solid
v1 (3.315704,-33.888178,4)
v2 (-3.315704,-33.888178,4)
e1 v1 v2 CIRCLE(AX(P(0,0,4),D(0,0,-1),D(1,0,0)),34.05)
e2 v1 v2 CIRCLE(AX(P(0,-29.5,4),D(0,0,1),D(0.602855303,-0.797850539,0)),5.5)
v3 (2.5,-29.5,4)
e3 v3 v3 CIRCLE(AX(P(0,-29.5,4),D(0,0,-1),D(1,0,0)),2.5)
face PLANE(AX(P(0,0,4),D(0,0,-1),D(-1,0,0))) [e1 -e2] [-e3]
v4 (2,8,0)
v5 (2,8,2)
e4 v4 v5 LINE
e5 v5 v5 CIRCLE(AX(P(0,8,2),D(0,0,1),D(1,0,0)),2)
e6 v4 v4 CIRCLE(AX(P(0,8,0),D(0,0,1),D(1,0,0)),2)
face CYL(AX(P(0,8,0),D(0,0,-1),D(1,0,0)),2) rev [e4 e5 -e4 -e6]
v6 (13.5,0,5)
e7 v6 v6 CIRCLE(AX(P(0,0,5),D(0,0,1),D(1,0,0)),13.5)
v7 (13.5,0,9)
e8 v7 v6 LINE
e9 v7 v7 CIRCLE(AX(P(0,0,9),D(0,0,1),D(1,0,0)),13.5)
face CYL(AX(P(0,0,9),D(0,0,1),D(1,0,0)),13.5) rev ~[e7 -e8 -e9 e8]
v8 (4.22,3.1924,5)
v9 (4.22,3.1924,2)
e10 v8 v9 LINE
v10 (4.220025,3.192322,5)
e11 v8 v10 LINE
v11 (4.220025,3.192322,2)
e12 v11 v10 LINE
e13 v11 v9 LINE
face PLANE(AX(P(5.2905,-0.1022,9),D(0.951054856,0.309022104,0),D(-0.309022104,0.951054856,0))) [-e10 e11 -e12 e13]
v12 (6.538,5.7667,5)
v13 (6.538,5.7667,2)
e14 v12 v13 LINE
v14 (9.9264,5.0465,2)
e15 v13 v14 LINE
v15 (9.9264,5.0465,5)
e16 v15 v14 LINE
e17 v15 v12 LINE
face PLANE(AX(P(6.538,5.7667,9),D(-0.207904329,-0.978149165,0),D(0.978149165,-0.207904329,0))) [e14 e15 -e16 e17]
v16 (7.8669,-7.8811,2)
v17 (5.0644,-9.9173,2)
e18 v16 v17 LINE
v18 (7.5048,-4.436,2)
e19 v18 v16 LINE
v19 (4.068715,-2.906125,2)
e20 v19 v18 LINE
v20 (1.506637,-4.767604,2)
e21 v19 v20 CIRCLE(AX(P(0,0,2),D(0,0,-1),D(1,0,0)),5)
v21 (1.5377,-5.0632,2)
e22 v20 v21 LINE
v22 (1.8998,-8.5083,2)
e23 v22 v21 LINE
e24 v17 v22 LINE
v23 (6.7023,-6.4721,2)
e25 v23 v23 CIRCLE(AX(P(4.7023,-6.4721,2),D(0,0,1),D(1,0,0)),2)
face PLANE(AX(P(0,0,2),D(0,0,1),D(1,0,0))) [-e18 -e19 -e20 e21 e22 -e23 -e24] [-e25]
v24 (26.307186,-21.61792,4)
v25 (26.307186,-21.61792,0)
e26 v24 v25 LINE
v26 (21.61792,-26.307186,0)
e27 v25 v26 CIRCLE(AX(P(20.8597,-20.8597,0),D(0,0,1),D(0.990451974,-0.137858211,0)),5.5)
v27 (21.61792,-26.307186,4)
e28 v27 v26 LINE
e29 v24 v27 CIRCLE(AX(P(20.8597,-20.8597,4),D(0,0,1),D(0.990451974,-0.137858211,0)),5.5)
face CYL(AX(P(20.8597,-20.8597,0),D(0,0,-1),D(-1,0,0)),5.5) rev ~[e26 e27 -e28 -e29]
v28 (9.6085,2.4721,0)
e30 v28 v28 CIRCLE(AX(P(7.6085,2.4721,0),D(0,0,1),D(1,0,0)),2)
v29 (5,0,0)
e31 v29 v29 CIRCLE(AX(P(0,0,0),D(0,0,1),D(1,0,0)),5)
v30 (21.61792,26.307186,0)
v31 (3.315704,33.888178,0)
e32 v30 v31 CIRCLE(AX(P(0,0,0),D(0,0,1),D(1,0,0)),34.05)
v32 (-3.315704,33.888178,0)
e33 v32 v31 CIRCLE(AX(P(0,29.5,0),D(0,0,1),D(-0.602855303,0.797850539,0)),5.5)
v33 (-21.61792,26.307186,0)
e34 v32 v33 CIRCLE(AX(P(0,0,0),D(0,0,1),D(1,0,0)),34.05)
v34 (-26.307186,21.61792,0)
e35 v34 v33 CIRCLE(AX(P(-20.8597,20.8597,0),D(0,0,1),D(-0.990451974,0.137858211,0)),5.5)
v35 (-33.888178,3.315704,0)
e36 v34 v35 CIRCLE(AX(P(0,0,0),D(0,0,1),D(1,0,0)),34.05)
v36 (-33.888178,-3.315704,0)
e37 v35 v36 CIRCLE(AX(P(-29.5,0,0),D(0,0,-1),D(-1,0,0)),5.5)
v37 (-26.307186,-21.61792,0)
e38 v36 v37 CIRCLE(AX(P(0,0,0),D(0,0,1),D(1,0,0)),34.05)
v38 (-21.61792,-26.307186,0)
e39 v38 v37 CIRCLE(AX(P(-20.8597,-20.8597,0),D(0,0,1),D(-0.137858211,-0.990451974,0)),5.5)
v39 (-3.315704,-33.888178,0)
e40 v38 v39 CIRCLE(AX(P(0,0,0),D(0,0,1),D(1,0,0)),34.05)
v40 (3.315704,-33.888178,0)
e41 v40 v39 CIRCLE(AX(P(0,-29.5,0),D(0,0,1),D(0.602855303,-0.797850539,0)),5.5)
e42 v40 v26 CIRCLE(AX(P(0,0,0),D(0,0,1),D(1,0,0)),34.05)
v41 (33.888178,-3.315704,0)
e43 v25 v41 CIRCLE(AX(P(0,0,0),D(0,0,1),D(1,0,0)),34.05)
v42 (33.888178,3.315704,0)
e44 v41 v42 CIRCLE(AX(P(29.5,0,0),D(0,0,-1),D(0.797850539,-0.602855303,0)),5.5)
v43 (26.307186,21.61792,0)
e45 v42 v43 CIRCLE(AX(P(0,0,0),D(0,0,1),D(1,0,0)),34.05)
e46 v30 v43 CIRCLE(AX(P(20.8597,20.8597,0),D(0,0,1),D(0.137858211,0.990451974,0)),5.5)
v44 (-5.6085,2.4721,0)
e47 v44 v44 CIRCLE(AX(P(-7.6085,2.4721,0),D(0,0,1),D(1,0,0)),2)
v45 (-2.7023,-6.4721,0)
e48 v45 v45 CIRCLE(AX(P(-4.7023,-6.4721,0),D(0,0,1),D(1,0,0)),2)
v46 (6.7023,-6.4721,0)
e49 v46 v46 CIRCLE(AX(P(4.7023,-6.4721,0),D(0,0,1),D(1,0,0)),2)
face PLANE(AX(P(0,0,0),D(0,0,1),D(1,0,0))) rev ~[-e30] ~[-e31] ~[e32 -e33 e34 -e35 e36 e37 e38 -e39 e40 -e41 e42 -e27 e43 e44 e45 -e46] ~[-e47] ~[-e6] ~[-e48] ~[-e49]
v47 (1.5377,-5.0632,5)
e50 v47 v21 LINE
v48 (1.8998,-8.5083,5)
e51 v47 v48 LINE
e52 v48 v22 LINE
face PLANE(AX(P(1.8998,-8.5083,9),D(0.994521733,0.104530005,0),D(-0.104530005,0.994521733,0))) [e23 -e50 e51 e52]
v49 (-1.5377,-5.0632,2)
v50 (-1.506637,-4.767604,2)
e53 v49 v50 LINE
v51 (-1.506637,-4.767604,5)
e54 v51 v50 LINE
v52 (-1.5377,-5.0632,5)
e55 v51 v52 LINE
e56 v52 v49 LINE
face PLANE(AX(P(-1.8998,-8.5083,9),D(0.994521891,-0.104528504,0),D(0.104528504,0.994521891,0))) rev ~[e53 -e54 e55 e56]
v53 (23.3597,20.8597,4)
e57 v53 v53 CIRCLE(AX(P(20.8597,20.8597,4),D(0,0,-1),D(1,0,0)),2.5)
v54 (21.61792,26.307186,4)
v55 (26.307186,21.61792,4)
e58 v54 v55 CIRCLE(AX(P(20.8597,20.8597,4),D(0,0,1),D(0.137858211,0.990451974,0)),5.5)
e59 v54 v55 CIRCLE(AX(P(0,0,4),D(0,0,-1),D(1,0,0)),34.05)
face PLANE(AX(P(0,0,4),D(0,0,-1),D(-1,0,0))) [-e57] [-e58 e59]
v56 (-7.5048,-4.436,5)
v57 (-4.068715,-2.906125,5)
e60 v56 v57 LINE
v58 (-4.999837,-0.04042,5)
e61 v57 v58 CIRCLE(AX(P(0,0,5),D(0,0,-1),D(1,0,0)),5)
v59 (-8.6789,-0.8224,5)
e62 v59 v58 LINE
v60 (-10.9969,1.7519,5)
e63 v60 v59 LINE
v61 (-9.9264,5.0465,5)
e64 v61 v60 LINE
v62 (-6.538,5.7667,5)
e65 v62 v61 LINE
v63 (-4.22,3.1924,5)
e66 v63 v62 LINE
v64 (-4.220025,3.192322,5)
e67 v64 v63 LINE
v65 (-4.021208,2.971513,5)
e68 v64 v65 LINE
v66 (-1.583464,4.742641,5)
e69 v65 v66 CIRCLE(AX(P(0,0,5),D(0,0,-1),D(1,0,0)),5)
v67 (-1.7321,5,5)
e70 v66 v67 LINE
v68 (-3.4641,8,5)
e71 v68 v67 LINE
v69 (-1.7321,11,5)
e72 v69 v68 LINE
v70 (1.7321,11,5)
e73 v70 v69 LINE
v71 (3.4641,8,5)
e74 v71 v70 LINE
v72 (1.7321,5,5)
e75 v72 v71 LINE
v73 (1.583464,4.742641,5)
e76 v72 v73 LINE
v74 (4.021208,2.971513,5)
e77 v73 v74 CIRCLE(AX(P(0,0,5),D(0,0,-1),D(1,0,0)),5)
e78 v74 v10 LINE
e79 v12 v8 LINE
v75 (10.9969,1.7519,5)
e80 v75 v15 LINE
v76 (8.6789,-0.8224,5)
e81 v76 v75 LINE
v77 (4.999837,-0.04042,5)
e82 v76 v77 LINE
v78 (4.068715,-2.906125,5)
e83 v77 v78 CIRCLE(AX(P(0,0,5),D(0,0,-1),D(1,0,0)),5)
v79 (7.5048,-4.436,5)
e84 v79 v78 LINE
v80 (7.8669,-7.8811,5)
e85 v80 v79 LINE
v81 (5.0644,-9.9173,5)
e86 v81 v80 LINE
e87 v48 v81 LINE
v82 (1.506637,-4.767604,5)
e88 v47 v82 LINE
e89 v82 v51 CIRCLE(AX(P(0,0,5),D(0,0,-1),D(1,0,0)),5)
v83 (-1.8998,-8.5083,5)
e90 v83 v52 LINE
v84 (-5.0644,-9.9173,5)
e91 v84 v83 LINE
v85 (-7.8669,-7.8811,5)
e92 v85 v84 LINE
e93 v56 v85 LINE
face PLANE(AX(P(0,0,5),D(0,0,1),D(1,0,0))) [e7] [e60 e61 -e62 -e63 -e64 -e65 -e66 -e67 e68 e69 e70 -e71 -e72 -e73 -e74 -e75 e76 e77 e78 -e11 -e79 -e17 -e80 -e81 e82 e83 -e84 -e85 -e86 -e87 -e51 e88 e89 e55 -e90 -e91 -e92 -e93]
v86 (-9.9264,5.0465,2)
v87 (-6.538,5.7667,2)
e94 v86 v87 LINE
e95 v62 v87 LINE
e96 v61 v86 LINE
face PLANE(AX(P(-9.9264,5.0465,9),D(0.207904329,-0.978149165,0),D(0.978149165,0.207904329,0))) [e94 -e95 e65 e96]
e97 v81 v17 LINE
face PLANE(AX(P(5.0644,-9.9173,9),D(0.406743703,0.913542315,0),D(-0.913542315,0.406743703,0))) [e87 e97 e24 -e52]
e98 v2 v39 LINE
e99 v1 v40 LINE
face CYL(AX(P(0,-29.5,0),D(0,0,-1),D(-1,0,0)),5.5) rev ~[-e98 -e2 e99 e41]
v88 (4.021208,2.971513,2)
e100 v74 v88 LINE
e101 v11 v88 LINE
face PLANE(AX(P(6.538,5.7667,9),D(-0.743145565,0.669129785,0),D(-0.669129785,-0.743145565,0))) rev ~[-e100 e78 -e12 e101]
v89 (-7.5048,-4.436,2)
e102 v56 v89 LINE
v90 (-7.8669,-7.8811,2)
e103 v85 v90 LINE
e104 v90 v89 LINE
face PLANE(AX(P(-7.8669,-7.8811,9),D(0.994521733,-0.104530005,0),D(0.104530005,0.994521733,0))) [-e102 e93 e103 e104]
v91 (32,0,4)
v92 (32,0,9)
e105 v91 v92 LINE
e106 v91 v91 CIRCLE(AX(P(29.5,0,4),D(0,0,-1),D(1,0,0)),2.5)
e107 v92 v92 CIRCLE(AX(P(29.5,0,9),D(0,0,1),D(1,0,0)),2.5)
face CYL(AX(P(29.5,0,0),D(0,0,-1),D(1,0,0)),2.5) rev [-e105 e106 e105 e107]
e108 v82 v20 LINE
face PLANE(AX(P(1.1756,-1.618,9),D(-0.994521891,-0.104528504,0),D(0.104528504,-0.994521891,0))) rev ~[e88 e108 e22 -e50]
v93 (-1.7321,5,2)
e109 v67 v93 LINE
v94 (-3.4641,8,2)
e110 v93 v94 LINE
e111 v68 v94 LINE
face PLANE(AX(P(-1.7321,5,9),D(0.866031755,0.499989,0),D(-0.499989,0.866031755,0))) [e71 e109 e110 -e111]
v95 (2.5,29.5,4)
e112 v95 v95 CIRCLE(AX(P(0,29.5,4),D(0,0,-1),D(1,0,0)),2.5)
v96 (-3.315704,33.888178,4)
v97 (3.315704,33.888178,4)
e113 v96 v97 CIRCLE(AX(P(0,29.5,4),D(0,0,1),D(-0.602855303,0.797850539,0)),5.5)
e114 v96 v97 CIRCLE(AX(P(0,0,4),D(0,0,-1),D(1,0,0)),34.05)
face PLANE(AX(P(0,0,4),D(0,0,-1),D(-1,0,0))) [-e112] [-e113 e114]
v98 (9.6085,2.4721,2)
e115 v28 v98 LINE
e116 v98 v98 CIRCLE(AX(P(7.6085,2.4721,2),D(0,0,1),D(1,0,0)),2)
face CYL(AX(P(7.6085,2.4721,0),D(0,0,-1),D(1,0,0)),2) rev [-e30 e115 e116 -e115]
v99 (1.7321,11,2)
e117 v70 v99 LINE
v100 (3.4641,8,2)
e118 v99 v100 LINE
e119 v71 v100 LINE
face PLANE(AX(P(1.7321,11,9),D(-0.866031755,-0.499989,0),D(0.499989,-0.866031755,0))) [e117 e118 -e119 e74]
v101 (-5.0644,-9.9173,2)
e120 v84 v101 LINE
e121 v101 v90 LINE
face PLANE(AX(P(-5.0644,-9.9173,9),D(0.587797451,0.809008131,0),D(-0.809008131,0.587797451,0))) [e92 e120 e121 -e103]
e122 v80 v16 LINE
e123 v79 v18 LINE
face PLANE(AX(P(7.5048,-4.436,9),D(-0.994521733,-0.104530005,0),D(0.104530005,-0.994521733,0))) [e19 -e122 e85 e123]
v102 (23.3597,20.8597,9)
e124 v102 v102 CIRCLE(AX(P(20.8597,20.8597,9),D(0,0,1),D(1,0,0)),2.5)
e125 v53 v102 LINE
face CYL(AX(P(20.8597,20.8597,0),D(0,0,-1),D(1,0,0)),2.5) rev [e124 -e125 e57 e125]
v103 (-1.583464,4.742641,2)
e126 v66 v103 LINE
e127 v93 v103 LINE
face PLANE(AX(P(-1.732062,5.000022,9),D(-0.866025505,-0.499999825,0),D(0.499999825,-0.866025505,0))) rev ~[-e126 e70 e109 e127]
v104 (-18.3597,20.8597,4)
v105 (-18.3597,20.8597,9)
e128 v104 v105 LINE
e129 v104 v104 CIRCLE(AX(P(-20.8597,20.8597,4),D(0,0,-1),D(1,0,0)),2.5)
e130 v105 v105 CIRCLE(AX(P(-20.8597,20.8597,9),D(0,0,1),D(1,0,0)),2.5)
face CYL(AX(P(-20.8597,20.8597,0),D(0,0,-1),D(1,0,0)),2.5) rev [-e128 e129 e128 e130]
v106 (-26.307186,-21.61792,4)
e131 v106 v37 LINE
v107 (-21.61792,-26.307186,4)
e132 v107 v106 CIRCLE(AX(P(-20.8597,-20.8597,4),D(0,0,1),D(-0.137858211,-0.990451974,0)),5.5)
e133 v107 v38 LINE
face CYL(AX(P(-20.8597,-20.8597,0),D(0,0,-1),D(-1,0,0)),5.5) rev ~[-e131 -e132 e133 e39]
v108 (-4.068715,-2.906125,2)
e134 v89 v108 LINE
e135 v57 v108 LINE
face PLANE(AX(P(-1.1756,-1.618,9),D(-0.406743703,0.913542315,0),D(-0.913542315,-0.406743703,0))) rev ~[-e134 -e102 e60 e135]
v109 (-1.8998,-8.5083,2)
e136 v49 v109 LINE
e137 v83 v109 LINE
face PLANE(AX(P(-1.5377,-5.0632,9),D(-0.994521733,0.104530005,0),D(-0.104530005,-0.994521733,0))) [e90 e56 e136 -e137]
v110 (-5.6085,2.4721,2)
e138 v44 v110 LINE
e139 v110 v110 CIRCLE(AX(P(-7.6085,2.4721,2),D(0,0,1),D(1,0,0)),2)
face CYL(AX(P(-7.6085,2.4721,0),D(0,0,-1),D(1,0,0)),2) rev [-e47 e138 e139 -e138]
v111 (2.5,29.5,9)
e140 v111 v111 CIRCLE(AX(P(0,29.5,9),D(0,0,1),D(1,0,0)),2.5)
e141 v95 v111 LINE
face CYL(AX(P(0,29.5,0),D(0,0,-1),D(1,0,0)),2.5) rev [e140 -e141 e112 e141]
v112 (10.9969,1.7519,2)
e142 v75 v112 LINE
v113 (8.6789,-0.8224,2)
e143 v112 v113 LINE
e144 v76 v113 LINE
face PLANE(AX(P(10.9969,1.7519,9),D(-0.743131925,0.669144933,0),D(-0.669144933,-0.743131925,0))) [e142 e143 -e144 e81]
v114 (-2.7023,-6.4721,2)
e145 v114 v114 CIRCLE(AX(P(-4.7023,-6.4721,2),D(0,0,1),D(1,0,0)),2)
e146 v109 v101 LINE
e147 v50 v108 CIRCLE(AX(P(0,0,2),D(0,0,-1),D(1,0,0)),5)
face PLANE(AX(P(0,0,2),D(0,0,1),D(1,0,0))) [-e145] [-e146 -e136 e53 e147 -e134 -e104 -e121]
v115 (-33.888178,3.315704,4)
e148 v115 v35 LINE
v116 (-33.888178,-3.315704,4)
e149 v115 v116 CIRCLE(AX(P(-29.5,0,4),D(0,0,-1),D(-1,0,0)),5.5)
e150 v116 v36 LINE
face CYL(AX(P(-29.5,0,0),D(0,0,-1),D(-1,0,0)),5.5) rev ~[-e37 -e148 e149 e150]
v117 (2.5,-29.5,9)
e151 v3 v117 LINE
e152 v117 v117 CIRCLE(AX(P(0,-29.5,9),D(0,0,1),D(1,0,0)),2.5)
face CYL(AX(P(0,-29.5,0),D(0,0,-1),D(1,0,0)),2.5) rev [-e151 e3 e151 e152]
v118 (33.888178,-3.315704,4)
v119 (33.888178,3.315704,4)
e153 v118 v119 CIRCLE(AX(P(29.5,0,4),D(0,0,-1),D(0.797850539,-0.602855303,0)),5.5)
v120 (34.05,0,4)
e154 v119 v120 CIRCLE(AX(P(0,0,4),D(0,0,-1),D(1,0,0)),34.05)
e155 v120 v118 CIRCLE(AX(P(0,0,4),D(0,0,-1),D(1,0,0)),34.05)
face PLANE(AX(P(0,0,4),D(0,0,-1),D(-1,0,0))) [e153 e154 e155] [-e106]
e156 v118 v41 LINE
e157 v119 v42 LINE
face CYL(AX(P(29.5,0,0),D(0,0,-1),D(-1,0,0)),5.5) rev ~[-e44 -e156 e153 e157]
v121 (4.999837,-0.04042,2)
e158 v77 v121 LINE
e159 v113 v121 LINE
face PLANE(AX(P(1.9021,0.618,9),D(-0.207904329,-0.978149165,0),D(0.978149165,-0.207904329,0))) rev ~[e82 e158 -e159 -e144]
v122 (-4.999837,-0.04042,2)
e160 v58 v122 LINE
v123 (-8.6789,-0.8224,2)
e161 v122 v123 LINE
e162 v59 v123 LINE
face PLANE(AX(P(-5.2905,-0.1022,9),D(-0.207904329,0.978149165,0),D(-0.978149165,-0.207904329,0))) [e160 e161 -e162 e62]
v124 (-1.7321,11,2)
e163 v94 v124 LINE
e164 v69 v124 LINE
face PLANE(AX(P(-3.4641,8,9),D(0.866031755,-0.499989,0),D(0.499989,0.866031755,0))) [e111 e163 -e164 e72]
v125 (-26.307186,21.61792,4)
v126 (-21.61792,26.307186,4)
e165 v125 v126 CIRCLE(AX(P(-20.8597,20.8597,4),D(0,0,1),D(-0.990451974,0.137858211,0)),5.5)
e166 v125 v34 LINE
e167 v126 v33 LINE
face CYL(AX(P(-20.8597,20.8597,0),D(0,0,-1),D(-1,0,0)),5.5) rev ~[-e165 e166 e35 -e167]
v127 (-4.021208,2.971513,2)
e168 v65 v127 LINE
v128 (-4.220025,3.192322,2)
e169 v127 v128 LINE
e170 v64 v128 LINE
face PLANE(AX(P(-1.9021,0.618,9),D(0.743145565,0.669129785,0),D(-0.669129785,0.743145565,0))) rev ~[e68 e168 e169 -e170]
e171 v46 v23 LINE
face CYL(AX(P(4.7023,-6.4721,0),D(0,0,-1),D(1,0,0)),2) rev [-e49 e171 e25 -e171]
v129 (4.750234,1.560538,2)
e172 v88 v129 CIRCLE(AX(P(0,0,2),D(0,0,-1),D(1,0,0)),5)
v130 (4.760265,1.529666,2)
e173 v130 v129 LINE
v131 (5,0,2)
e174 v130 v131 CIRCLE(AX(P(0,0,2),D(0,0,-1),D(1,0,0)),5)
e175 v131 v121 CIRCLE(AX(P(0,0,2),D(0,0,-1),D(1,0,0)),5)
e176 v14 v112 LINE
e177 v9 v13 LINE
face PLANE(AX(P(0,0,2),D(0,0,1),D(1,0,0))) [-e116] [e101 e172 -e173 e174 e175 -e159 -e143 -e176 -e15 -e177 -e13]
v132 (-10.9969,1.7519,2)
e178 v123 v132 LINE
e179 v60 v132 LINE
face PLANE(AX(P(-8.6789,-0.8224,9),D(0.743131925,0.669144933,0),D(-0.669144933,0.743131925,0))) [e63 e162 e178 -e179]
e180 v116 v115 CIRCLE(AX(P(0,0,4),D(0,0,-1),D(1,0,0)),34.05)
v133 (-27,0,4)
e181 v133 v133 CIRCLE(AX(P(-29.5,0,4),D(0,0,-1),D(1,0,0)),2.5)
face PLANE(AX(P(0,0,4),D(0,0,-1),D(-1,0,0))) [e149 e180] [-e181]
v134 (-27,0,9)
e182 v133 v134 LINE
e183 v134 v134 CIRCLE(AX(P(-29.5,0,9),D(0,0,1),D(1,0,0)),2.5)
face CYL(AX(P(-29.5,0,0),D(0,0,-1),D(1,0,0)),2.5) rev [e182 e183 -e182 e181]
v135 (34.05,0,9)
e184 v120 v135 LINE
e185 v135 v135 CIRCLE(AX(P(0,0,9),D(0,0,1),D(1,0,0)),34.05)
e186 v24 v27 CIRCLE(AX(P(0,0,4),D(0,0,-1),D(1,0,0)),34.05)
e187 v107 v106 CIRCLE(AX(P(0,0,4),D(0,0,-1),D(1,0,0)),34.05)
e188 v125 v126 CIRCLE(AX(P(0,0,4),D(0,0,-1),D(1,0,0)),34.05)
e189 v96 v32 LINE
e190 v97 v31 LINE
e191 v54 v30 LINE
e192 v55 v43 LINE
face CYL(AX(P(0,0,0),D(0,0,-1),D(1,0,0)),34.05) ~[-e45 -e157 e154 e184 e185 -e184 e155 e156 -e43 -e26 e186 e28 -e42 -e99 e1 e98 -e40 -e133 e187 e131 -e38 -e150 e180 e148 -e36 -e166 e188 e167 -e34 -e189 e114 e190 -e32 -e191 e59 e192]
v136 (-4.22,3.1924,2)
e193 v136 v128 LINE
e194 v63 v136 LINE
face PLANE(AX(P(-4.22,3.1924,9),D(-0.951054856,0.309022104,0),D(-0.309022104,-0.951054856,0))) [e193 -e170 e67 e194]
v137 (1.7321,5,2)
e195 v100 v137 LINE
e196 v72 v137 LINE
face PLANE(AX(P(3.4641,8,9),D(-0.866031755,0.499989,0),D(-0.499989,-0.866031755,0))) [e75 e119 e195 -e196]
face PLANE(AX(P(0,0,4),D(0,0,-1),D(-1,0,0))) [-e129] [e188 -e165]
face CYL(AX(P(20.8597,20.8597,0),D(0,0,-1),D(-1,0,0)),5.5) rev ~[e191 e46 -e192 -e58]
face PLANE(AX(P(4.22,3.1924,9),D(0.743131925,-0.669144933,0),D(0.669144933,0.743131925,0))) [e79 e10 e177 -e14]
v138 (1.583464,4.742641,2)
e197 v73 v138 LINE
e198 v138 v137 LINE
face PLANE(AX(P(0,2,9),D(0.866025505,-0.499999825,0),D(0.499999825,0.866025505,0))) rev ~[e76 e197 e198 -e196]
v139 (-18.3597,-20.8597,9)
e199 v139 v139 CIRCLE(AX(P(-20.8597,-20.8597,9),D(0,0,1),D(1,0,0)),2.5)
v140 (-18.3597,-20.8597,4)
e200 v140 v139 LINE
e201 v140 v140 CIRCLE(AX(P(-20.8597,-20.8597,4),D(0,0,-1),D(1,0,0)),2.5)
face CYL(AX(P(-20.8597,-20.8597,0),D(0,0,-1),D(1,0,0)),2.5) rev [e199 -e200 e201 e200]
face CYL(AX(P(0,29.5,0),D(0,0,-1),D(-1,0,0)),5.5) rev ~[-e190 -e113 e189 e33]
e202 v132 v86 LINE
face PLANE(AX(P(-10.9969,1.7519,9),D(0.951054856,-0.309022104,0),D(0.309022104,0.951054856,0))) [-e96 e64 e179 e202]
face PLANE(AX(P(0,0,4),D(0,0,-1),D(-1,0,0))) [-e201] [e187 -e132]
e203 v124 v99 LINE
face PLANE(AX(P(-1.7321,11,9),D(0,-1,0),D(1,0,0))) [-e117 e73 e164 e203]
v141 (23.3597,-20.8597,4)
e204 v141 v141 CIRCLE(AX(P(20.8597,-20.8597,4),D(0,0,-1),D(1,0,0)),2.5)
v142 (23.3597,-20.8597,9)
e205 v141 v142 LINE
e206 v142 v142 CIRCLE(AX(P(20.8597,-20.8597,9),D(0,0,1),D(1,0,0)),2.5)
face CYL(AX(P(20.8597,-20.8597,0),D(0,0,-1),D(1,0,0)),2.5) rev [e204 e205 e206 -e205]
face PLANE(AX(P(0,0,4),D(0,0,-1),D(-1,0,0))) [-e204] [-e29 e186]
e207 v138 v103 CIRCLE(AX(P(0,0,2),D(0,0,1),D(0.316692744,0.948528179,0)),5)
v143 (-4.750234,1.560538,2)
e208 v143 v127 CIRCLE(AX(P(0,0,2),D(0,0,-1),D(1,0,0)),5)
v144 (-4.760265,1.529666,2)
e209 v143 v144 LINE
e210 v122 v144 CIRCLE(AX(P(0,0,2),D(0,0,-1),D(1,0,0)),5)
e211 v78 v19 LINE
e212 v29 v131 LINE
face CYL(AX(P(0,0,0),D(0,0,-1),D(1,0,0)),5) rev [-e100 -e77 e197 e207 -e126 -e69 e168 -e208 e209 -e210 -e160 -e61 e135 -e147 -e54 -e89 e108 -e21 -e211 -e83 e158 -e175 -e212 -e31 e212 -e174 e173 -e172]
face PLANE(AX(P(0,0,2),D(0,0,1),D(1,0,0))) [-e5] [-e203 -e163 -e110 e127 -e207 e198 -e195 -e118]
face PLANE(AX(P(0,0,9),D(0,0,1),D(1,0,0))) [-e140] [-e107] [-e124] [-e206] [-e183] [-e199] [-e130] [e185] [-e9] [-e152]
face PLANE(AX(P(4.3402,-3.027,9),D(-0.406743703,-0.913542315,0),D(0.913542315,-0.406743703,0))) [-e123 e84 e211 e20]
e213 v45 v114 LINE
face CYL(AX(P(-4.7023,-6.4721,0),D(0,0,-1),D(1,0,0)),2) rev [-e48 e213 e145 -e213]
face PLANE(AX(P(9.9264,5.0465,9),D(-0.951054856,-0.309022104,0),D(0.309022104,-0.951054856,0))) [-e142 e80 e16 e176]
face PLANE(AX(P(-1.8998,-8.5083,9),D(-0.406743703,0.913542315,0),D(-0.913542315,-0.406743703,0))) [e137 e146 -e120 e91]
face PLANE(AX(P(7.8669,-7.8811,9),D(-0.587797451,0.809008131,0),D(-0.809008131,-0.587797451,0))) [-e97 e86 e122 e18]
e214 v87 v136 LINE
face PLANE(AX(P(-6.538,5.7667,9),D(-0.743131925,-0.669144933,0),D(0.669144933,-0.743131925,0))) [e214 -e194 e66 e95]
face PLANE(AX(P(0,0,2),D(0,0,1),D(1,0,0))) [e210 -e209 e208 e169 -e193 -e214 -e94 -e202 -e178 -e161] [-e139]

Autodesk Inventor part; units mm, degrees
ref_plane "YZ Plane" through (0, 0, 0) normal (1, 0, 0) x (0, 1, 0)
ref_plane "XZ Plane" through (0, 0, 0) normal (0, 1, 0) x (-1, 0, 0)
ref_plane "XY Plane" through (0, 0, 0) normal (0, 0, 1) x (1, 0, 0)
sketch "Sketch1" plane through (0, 0, 0) normal (0, 0, 1) x (1, 0, 0)
  circle A0 centre (0, 0) radius 34.05
  circle A1 centre (0, 0) radius 5
  circle A2 centre (29.5, 0) radius 2.5
  circle A3 centre (20.8597, 20.8597) radius 2.5
  circle A4 centre (0, 29.5) radius 2.5
  circle A5 centre (-20.8597, 20.8597) radius 2.5
  circle A6 centre (-29.5, 0) radius 2.5
  circle A7 centre (-20.8597, -20.8597) radius 2.5
  circle A8 centre (0, -29.5) radius 2.5
  circle A9 centre (20.8597, -20.8597) radius 2.5
  circle A10 centre (0, 8) radius 2
  circle A11 centre (-7.6085, 2.4721) radius 2
  circle A12 centre (-4.7023, -6.4721) radius 2
  circle A13 centre (4.7023, -6.4721) radius 2
  circle A14 centre (7.6085, 2.4721) radius 2
  dimension "d0" = 68.1
  dimension "d1" = 10
  dimension "d2" = 5
  dimension "d3" = 29.5
  dimension "d6" = 360
  dimension "d8" = 4
  dimension "d9" = 8
  dimension "d12" = 360
extrude "Extrusion1" add sketch "Sketch1" along normal blind 9
sketch "Sketch2" plane through (0, 0, 9) normal (0, 0, 1) x (1, 0, 0)
  line L0 (-3.4641, 8) -> (-1.7321, 11)
  line L1 (-1.7321, 11) -> (1.7321, 11)
  line L2 (1.7321, 11) -> (3.4641, 8)
  line L3 (3.4641, 8) -> (1.7321, 5)
  line L4 (1.7321, 5) -> (-1.7321, 5)
  line L5 (-1.7321, 5) -> (-3.4641, 8)
  circle A0 centre (0, 8) radius 2 projected
  line L6 (-8.6789, -0.8224) -> (-10.9969, 1.7519)
  line L7 (-10.9969, 1.7519) -> (-9.9264, 5.0465)
  line L8 (-9.9264, 5.0465) -> (-6.538, 5.7667)
  line L9 (-6.538, 5.7667) -> (-4.22, 3.1924)
  line L10 (-4.22, 3.1924) -> (-5.2905, -0.1022)
  line L11 (-5.2905, -0.1022) -> (-8.6789, -0.8224)
  line L12 (-1.8998, -8.5083) -> (-5.0644, -9.9173)
  line L13 (-5.0644, -9.9173) -> (-7.8669, -7.8811)
  line L14 (-7.8669, -7.8811) -> (-7.5048, -4.436)
  line L15 (-7.5048, -4.436) -> (-4.3402, -3.027)
  line L16 (-4.3402, -3.027) -> (-1.5377, -5.0632)
  line L17 (-1.5377, -5.0632) -> (-1.8998, -8.5083)
  line L18 (7.5048, -4.436) -> (7.8669, -7.8811)
  line L19 (7.8669, -7.8811) -> (5.0644, -9.9173)
  line L20 (5.0644, -9.9173) -> (1.8998, -8.5083)
  line L21 (1.8998, -8.5083) -> (1.5377, -5.0632)
  line L22 (1.5377, -5.0632) -> (4.3402, -3.027)
  line L23 (4.3402, -3.027) -> (7.5048, -4.436)
  line L24 (6.538, 5.7667) -> (9.9264, 5.0465)
  line L25 (9.9264, 5.0465) -> (10.9969, 1.7519)
  line L26 (10.9969, 1.7519) -> (8.6789, -0.8224)
  line L27 (8.6789, -0.8224) -> (5.2905, -0.1022)
  line L28 (5.2905, -0.1022) -> (4.22, 3.1924)
  line L29 (4.22, 3.1924) -> (6.538, 5.7667)
  point P0 (0, 0)
  point P1 (-7.6085, 2.4721)
  point P2 (-4.7023, -6.4721)
  point P3 (4.7023, -6.4721)
  point P4 (7.6085, 2.4721)
  dimension "d16" = 6
  dimension "d19" = 360
extrude "Extrusion2" cut sketch "Sketch2" against normal blind 7 contours L0 L1 L2 L3 L4 L5 | A0 | L6 L7 L8 L9 L10 L11 | L12 L13 L14 L15 L16 L17 | L18 L19 L20 L21 L22 L23 | L24 L25 L26 L27 L28 L29
sketch "Sketch3" plane through (0, 0, 9) normal (0, 0, 1) x (1, 0, 0)
  line L0 (-1.7321, 5) -> (-3.4641, 8) projected
  line L1 (-3.4641, 8) -> (0, 2)
  line L2 (3.4641, 8) -> (1.7321, 5) projected
  line L3 (0, 2) -> (3.4641, 8)
  line L4 (1.7321, 11) -> (3.4641, 8) projected
  line L5 (-3.4641, 8) -> (3.4641, 8)
  line L6 (-8.6789, -0.8224) -> (-1.9021, 0.618)
  line L7 (-1.9021, 0.618) -> (-6.538, 5.7667)
  line L8 (-8.6789, -0.8224) -> (-6.538, 5.7667)
  line L9 (-1.8998, -8.5083) -> (-1.1756, -1.618)
  line L10 (-1.1756, -1.618) -> (-7.5048, -4.436)
  line L11 (-1.8998, -8.5083) -> (-7.5048, -4.436)
  line L12 (7.5048, -4.436) -> (1.1756, -1.618)
  line L13 (1.1756, -1.618) -> (1.8998, -8.5083)
  line L14 (7.5048, -4.436) -> (1.8998, -8.5083)
  line L15 (6.538, 5.7667) -> (1.9021, 0.618)
  line L16 (1.9021, 0.618) -> (8.6789, -0.8224)
  line L17 (6.538, 5.7667) -> (8.6789, -0.8224)
  point P0 (0, 0)
  point P1 (-4.22, 3.1924)
  point P2 (-4.3402, -3.027)
  point P3 (1.5377, -5.0632)
  point P4 (5.2905, -0.1022)
  dimension "d25" = 360
extrude "Extrusion3" cut sketch "Sketch3" against normal up to surface (7 mm away) from surface at 0
sketch "Sketch4" plane through (0, 0, 9) normal (0, 0, 1) x (1, 0, 0)
  circle A0 centre (0, 0) radius 13.5
  dimension "d29" = 27
extrude "Extrusion4" cut sketch "Sketch4" against normal blind 4
sketch "Sketch5" plane through (0, 0, 0) normal (0, 0, -1) x (-1, 0, 0)
  circle A0 centre (0, -29.5) radius 2.5 projected
  circle A1 centre (0, -29.5) radius 5.5
  circle A2 centre (20.8597, -20.8597) radius 5.5
  circle A3 centre (29.5, 0) radius 5.5
  circle A4 centre (20.8597, 20.8597) radius 5.5
  circle A5 centre (0, 29.5) radius 5.5
  circle A6 centre (-20.8597, 20.8597) radius 5.5
  circle A7 centre (-29.5, 0) radius 5.5
  circle A8 centre (-20.8597, -20.8597) radius 5.5
  point P0 (0, 0)
  dimension "d32" = 11
  dimension "d35" = 360
extrude "Extrusion5" cut sketch "Sketch5" against normal blind 4 contours A0 | A1 | A2 | A3 | A4 | A5 | A6 | A7 | A8
properties part number "XT-SM-02" material "ABS Plastic"
